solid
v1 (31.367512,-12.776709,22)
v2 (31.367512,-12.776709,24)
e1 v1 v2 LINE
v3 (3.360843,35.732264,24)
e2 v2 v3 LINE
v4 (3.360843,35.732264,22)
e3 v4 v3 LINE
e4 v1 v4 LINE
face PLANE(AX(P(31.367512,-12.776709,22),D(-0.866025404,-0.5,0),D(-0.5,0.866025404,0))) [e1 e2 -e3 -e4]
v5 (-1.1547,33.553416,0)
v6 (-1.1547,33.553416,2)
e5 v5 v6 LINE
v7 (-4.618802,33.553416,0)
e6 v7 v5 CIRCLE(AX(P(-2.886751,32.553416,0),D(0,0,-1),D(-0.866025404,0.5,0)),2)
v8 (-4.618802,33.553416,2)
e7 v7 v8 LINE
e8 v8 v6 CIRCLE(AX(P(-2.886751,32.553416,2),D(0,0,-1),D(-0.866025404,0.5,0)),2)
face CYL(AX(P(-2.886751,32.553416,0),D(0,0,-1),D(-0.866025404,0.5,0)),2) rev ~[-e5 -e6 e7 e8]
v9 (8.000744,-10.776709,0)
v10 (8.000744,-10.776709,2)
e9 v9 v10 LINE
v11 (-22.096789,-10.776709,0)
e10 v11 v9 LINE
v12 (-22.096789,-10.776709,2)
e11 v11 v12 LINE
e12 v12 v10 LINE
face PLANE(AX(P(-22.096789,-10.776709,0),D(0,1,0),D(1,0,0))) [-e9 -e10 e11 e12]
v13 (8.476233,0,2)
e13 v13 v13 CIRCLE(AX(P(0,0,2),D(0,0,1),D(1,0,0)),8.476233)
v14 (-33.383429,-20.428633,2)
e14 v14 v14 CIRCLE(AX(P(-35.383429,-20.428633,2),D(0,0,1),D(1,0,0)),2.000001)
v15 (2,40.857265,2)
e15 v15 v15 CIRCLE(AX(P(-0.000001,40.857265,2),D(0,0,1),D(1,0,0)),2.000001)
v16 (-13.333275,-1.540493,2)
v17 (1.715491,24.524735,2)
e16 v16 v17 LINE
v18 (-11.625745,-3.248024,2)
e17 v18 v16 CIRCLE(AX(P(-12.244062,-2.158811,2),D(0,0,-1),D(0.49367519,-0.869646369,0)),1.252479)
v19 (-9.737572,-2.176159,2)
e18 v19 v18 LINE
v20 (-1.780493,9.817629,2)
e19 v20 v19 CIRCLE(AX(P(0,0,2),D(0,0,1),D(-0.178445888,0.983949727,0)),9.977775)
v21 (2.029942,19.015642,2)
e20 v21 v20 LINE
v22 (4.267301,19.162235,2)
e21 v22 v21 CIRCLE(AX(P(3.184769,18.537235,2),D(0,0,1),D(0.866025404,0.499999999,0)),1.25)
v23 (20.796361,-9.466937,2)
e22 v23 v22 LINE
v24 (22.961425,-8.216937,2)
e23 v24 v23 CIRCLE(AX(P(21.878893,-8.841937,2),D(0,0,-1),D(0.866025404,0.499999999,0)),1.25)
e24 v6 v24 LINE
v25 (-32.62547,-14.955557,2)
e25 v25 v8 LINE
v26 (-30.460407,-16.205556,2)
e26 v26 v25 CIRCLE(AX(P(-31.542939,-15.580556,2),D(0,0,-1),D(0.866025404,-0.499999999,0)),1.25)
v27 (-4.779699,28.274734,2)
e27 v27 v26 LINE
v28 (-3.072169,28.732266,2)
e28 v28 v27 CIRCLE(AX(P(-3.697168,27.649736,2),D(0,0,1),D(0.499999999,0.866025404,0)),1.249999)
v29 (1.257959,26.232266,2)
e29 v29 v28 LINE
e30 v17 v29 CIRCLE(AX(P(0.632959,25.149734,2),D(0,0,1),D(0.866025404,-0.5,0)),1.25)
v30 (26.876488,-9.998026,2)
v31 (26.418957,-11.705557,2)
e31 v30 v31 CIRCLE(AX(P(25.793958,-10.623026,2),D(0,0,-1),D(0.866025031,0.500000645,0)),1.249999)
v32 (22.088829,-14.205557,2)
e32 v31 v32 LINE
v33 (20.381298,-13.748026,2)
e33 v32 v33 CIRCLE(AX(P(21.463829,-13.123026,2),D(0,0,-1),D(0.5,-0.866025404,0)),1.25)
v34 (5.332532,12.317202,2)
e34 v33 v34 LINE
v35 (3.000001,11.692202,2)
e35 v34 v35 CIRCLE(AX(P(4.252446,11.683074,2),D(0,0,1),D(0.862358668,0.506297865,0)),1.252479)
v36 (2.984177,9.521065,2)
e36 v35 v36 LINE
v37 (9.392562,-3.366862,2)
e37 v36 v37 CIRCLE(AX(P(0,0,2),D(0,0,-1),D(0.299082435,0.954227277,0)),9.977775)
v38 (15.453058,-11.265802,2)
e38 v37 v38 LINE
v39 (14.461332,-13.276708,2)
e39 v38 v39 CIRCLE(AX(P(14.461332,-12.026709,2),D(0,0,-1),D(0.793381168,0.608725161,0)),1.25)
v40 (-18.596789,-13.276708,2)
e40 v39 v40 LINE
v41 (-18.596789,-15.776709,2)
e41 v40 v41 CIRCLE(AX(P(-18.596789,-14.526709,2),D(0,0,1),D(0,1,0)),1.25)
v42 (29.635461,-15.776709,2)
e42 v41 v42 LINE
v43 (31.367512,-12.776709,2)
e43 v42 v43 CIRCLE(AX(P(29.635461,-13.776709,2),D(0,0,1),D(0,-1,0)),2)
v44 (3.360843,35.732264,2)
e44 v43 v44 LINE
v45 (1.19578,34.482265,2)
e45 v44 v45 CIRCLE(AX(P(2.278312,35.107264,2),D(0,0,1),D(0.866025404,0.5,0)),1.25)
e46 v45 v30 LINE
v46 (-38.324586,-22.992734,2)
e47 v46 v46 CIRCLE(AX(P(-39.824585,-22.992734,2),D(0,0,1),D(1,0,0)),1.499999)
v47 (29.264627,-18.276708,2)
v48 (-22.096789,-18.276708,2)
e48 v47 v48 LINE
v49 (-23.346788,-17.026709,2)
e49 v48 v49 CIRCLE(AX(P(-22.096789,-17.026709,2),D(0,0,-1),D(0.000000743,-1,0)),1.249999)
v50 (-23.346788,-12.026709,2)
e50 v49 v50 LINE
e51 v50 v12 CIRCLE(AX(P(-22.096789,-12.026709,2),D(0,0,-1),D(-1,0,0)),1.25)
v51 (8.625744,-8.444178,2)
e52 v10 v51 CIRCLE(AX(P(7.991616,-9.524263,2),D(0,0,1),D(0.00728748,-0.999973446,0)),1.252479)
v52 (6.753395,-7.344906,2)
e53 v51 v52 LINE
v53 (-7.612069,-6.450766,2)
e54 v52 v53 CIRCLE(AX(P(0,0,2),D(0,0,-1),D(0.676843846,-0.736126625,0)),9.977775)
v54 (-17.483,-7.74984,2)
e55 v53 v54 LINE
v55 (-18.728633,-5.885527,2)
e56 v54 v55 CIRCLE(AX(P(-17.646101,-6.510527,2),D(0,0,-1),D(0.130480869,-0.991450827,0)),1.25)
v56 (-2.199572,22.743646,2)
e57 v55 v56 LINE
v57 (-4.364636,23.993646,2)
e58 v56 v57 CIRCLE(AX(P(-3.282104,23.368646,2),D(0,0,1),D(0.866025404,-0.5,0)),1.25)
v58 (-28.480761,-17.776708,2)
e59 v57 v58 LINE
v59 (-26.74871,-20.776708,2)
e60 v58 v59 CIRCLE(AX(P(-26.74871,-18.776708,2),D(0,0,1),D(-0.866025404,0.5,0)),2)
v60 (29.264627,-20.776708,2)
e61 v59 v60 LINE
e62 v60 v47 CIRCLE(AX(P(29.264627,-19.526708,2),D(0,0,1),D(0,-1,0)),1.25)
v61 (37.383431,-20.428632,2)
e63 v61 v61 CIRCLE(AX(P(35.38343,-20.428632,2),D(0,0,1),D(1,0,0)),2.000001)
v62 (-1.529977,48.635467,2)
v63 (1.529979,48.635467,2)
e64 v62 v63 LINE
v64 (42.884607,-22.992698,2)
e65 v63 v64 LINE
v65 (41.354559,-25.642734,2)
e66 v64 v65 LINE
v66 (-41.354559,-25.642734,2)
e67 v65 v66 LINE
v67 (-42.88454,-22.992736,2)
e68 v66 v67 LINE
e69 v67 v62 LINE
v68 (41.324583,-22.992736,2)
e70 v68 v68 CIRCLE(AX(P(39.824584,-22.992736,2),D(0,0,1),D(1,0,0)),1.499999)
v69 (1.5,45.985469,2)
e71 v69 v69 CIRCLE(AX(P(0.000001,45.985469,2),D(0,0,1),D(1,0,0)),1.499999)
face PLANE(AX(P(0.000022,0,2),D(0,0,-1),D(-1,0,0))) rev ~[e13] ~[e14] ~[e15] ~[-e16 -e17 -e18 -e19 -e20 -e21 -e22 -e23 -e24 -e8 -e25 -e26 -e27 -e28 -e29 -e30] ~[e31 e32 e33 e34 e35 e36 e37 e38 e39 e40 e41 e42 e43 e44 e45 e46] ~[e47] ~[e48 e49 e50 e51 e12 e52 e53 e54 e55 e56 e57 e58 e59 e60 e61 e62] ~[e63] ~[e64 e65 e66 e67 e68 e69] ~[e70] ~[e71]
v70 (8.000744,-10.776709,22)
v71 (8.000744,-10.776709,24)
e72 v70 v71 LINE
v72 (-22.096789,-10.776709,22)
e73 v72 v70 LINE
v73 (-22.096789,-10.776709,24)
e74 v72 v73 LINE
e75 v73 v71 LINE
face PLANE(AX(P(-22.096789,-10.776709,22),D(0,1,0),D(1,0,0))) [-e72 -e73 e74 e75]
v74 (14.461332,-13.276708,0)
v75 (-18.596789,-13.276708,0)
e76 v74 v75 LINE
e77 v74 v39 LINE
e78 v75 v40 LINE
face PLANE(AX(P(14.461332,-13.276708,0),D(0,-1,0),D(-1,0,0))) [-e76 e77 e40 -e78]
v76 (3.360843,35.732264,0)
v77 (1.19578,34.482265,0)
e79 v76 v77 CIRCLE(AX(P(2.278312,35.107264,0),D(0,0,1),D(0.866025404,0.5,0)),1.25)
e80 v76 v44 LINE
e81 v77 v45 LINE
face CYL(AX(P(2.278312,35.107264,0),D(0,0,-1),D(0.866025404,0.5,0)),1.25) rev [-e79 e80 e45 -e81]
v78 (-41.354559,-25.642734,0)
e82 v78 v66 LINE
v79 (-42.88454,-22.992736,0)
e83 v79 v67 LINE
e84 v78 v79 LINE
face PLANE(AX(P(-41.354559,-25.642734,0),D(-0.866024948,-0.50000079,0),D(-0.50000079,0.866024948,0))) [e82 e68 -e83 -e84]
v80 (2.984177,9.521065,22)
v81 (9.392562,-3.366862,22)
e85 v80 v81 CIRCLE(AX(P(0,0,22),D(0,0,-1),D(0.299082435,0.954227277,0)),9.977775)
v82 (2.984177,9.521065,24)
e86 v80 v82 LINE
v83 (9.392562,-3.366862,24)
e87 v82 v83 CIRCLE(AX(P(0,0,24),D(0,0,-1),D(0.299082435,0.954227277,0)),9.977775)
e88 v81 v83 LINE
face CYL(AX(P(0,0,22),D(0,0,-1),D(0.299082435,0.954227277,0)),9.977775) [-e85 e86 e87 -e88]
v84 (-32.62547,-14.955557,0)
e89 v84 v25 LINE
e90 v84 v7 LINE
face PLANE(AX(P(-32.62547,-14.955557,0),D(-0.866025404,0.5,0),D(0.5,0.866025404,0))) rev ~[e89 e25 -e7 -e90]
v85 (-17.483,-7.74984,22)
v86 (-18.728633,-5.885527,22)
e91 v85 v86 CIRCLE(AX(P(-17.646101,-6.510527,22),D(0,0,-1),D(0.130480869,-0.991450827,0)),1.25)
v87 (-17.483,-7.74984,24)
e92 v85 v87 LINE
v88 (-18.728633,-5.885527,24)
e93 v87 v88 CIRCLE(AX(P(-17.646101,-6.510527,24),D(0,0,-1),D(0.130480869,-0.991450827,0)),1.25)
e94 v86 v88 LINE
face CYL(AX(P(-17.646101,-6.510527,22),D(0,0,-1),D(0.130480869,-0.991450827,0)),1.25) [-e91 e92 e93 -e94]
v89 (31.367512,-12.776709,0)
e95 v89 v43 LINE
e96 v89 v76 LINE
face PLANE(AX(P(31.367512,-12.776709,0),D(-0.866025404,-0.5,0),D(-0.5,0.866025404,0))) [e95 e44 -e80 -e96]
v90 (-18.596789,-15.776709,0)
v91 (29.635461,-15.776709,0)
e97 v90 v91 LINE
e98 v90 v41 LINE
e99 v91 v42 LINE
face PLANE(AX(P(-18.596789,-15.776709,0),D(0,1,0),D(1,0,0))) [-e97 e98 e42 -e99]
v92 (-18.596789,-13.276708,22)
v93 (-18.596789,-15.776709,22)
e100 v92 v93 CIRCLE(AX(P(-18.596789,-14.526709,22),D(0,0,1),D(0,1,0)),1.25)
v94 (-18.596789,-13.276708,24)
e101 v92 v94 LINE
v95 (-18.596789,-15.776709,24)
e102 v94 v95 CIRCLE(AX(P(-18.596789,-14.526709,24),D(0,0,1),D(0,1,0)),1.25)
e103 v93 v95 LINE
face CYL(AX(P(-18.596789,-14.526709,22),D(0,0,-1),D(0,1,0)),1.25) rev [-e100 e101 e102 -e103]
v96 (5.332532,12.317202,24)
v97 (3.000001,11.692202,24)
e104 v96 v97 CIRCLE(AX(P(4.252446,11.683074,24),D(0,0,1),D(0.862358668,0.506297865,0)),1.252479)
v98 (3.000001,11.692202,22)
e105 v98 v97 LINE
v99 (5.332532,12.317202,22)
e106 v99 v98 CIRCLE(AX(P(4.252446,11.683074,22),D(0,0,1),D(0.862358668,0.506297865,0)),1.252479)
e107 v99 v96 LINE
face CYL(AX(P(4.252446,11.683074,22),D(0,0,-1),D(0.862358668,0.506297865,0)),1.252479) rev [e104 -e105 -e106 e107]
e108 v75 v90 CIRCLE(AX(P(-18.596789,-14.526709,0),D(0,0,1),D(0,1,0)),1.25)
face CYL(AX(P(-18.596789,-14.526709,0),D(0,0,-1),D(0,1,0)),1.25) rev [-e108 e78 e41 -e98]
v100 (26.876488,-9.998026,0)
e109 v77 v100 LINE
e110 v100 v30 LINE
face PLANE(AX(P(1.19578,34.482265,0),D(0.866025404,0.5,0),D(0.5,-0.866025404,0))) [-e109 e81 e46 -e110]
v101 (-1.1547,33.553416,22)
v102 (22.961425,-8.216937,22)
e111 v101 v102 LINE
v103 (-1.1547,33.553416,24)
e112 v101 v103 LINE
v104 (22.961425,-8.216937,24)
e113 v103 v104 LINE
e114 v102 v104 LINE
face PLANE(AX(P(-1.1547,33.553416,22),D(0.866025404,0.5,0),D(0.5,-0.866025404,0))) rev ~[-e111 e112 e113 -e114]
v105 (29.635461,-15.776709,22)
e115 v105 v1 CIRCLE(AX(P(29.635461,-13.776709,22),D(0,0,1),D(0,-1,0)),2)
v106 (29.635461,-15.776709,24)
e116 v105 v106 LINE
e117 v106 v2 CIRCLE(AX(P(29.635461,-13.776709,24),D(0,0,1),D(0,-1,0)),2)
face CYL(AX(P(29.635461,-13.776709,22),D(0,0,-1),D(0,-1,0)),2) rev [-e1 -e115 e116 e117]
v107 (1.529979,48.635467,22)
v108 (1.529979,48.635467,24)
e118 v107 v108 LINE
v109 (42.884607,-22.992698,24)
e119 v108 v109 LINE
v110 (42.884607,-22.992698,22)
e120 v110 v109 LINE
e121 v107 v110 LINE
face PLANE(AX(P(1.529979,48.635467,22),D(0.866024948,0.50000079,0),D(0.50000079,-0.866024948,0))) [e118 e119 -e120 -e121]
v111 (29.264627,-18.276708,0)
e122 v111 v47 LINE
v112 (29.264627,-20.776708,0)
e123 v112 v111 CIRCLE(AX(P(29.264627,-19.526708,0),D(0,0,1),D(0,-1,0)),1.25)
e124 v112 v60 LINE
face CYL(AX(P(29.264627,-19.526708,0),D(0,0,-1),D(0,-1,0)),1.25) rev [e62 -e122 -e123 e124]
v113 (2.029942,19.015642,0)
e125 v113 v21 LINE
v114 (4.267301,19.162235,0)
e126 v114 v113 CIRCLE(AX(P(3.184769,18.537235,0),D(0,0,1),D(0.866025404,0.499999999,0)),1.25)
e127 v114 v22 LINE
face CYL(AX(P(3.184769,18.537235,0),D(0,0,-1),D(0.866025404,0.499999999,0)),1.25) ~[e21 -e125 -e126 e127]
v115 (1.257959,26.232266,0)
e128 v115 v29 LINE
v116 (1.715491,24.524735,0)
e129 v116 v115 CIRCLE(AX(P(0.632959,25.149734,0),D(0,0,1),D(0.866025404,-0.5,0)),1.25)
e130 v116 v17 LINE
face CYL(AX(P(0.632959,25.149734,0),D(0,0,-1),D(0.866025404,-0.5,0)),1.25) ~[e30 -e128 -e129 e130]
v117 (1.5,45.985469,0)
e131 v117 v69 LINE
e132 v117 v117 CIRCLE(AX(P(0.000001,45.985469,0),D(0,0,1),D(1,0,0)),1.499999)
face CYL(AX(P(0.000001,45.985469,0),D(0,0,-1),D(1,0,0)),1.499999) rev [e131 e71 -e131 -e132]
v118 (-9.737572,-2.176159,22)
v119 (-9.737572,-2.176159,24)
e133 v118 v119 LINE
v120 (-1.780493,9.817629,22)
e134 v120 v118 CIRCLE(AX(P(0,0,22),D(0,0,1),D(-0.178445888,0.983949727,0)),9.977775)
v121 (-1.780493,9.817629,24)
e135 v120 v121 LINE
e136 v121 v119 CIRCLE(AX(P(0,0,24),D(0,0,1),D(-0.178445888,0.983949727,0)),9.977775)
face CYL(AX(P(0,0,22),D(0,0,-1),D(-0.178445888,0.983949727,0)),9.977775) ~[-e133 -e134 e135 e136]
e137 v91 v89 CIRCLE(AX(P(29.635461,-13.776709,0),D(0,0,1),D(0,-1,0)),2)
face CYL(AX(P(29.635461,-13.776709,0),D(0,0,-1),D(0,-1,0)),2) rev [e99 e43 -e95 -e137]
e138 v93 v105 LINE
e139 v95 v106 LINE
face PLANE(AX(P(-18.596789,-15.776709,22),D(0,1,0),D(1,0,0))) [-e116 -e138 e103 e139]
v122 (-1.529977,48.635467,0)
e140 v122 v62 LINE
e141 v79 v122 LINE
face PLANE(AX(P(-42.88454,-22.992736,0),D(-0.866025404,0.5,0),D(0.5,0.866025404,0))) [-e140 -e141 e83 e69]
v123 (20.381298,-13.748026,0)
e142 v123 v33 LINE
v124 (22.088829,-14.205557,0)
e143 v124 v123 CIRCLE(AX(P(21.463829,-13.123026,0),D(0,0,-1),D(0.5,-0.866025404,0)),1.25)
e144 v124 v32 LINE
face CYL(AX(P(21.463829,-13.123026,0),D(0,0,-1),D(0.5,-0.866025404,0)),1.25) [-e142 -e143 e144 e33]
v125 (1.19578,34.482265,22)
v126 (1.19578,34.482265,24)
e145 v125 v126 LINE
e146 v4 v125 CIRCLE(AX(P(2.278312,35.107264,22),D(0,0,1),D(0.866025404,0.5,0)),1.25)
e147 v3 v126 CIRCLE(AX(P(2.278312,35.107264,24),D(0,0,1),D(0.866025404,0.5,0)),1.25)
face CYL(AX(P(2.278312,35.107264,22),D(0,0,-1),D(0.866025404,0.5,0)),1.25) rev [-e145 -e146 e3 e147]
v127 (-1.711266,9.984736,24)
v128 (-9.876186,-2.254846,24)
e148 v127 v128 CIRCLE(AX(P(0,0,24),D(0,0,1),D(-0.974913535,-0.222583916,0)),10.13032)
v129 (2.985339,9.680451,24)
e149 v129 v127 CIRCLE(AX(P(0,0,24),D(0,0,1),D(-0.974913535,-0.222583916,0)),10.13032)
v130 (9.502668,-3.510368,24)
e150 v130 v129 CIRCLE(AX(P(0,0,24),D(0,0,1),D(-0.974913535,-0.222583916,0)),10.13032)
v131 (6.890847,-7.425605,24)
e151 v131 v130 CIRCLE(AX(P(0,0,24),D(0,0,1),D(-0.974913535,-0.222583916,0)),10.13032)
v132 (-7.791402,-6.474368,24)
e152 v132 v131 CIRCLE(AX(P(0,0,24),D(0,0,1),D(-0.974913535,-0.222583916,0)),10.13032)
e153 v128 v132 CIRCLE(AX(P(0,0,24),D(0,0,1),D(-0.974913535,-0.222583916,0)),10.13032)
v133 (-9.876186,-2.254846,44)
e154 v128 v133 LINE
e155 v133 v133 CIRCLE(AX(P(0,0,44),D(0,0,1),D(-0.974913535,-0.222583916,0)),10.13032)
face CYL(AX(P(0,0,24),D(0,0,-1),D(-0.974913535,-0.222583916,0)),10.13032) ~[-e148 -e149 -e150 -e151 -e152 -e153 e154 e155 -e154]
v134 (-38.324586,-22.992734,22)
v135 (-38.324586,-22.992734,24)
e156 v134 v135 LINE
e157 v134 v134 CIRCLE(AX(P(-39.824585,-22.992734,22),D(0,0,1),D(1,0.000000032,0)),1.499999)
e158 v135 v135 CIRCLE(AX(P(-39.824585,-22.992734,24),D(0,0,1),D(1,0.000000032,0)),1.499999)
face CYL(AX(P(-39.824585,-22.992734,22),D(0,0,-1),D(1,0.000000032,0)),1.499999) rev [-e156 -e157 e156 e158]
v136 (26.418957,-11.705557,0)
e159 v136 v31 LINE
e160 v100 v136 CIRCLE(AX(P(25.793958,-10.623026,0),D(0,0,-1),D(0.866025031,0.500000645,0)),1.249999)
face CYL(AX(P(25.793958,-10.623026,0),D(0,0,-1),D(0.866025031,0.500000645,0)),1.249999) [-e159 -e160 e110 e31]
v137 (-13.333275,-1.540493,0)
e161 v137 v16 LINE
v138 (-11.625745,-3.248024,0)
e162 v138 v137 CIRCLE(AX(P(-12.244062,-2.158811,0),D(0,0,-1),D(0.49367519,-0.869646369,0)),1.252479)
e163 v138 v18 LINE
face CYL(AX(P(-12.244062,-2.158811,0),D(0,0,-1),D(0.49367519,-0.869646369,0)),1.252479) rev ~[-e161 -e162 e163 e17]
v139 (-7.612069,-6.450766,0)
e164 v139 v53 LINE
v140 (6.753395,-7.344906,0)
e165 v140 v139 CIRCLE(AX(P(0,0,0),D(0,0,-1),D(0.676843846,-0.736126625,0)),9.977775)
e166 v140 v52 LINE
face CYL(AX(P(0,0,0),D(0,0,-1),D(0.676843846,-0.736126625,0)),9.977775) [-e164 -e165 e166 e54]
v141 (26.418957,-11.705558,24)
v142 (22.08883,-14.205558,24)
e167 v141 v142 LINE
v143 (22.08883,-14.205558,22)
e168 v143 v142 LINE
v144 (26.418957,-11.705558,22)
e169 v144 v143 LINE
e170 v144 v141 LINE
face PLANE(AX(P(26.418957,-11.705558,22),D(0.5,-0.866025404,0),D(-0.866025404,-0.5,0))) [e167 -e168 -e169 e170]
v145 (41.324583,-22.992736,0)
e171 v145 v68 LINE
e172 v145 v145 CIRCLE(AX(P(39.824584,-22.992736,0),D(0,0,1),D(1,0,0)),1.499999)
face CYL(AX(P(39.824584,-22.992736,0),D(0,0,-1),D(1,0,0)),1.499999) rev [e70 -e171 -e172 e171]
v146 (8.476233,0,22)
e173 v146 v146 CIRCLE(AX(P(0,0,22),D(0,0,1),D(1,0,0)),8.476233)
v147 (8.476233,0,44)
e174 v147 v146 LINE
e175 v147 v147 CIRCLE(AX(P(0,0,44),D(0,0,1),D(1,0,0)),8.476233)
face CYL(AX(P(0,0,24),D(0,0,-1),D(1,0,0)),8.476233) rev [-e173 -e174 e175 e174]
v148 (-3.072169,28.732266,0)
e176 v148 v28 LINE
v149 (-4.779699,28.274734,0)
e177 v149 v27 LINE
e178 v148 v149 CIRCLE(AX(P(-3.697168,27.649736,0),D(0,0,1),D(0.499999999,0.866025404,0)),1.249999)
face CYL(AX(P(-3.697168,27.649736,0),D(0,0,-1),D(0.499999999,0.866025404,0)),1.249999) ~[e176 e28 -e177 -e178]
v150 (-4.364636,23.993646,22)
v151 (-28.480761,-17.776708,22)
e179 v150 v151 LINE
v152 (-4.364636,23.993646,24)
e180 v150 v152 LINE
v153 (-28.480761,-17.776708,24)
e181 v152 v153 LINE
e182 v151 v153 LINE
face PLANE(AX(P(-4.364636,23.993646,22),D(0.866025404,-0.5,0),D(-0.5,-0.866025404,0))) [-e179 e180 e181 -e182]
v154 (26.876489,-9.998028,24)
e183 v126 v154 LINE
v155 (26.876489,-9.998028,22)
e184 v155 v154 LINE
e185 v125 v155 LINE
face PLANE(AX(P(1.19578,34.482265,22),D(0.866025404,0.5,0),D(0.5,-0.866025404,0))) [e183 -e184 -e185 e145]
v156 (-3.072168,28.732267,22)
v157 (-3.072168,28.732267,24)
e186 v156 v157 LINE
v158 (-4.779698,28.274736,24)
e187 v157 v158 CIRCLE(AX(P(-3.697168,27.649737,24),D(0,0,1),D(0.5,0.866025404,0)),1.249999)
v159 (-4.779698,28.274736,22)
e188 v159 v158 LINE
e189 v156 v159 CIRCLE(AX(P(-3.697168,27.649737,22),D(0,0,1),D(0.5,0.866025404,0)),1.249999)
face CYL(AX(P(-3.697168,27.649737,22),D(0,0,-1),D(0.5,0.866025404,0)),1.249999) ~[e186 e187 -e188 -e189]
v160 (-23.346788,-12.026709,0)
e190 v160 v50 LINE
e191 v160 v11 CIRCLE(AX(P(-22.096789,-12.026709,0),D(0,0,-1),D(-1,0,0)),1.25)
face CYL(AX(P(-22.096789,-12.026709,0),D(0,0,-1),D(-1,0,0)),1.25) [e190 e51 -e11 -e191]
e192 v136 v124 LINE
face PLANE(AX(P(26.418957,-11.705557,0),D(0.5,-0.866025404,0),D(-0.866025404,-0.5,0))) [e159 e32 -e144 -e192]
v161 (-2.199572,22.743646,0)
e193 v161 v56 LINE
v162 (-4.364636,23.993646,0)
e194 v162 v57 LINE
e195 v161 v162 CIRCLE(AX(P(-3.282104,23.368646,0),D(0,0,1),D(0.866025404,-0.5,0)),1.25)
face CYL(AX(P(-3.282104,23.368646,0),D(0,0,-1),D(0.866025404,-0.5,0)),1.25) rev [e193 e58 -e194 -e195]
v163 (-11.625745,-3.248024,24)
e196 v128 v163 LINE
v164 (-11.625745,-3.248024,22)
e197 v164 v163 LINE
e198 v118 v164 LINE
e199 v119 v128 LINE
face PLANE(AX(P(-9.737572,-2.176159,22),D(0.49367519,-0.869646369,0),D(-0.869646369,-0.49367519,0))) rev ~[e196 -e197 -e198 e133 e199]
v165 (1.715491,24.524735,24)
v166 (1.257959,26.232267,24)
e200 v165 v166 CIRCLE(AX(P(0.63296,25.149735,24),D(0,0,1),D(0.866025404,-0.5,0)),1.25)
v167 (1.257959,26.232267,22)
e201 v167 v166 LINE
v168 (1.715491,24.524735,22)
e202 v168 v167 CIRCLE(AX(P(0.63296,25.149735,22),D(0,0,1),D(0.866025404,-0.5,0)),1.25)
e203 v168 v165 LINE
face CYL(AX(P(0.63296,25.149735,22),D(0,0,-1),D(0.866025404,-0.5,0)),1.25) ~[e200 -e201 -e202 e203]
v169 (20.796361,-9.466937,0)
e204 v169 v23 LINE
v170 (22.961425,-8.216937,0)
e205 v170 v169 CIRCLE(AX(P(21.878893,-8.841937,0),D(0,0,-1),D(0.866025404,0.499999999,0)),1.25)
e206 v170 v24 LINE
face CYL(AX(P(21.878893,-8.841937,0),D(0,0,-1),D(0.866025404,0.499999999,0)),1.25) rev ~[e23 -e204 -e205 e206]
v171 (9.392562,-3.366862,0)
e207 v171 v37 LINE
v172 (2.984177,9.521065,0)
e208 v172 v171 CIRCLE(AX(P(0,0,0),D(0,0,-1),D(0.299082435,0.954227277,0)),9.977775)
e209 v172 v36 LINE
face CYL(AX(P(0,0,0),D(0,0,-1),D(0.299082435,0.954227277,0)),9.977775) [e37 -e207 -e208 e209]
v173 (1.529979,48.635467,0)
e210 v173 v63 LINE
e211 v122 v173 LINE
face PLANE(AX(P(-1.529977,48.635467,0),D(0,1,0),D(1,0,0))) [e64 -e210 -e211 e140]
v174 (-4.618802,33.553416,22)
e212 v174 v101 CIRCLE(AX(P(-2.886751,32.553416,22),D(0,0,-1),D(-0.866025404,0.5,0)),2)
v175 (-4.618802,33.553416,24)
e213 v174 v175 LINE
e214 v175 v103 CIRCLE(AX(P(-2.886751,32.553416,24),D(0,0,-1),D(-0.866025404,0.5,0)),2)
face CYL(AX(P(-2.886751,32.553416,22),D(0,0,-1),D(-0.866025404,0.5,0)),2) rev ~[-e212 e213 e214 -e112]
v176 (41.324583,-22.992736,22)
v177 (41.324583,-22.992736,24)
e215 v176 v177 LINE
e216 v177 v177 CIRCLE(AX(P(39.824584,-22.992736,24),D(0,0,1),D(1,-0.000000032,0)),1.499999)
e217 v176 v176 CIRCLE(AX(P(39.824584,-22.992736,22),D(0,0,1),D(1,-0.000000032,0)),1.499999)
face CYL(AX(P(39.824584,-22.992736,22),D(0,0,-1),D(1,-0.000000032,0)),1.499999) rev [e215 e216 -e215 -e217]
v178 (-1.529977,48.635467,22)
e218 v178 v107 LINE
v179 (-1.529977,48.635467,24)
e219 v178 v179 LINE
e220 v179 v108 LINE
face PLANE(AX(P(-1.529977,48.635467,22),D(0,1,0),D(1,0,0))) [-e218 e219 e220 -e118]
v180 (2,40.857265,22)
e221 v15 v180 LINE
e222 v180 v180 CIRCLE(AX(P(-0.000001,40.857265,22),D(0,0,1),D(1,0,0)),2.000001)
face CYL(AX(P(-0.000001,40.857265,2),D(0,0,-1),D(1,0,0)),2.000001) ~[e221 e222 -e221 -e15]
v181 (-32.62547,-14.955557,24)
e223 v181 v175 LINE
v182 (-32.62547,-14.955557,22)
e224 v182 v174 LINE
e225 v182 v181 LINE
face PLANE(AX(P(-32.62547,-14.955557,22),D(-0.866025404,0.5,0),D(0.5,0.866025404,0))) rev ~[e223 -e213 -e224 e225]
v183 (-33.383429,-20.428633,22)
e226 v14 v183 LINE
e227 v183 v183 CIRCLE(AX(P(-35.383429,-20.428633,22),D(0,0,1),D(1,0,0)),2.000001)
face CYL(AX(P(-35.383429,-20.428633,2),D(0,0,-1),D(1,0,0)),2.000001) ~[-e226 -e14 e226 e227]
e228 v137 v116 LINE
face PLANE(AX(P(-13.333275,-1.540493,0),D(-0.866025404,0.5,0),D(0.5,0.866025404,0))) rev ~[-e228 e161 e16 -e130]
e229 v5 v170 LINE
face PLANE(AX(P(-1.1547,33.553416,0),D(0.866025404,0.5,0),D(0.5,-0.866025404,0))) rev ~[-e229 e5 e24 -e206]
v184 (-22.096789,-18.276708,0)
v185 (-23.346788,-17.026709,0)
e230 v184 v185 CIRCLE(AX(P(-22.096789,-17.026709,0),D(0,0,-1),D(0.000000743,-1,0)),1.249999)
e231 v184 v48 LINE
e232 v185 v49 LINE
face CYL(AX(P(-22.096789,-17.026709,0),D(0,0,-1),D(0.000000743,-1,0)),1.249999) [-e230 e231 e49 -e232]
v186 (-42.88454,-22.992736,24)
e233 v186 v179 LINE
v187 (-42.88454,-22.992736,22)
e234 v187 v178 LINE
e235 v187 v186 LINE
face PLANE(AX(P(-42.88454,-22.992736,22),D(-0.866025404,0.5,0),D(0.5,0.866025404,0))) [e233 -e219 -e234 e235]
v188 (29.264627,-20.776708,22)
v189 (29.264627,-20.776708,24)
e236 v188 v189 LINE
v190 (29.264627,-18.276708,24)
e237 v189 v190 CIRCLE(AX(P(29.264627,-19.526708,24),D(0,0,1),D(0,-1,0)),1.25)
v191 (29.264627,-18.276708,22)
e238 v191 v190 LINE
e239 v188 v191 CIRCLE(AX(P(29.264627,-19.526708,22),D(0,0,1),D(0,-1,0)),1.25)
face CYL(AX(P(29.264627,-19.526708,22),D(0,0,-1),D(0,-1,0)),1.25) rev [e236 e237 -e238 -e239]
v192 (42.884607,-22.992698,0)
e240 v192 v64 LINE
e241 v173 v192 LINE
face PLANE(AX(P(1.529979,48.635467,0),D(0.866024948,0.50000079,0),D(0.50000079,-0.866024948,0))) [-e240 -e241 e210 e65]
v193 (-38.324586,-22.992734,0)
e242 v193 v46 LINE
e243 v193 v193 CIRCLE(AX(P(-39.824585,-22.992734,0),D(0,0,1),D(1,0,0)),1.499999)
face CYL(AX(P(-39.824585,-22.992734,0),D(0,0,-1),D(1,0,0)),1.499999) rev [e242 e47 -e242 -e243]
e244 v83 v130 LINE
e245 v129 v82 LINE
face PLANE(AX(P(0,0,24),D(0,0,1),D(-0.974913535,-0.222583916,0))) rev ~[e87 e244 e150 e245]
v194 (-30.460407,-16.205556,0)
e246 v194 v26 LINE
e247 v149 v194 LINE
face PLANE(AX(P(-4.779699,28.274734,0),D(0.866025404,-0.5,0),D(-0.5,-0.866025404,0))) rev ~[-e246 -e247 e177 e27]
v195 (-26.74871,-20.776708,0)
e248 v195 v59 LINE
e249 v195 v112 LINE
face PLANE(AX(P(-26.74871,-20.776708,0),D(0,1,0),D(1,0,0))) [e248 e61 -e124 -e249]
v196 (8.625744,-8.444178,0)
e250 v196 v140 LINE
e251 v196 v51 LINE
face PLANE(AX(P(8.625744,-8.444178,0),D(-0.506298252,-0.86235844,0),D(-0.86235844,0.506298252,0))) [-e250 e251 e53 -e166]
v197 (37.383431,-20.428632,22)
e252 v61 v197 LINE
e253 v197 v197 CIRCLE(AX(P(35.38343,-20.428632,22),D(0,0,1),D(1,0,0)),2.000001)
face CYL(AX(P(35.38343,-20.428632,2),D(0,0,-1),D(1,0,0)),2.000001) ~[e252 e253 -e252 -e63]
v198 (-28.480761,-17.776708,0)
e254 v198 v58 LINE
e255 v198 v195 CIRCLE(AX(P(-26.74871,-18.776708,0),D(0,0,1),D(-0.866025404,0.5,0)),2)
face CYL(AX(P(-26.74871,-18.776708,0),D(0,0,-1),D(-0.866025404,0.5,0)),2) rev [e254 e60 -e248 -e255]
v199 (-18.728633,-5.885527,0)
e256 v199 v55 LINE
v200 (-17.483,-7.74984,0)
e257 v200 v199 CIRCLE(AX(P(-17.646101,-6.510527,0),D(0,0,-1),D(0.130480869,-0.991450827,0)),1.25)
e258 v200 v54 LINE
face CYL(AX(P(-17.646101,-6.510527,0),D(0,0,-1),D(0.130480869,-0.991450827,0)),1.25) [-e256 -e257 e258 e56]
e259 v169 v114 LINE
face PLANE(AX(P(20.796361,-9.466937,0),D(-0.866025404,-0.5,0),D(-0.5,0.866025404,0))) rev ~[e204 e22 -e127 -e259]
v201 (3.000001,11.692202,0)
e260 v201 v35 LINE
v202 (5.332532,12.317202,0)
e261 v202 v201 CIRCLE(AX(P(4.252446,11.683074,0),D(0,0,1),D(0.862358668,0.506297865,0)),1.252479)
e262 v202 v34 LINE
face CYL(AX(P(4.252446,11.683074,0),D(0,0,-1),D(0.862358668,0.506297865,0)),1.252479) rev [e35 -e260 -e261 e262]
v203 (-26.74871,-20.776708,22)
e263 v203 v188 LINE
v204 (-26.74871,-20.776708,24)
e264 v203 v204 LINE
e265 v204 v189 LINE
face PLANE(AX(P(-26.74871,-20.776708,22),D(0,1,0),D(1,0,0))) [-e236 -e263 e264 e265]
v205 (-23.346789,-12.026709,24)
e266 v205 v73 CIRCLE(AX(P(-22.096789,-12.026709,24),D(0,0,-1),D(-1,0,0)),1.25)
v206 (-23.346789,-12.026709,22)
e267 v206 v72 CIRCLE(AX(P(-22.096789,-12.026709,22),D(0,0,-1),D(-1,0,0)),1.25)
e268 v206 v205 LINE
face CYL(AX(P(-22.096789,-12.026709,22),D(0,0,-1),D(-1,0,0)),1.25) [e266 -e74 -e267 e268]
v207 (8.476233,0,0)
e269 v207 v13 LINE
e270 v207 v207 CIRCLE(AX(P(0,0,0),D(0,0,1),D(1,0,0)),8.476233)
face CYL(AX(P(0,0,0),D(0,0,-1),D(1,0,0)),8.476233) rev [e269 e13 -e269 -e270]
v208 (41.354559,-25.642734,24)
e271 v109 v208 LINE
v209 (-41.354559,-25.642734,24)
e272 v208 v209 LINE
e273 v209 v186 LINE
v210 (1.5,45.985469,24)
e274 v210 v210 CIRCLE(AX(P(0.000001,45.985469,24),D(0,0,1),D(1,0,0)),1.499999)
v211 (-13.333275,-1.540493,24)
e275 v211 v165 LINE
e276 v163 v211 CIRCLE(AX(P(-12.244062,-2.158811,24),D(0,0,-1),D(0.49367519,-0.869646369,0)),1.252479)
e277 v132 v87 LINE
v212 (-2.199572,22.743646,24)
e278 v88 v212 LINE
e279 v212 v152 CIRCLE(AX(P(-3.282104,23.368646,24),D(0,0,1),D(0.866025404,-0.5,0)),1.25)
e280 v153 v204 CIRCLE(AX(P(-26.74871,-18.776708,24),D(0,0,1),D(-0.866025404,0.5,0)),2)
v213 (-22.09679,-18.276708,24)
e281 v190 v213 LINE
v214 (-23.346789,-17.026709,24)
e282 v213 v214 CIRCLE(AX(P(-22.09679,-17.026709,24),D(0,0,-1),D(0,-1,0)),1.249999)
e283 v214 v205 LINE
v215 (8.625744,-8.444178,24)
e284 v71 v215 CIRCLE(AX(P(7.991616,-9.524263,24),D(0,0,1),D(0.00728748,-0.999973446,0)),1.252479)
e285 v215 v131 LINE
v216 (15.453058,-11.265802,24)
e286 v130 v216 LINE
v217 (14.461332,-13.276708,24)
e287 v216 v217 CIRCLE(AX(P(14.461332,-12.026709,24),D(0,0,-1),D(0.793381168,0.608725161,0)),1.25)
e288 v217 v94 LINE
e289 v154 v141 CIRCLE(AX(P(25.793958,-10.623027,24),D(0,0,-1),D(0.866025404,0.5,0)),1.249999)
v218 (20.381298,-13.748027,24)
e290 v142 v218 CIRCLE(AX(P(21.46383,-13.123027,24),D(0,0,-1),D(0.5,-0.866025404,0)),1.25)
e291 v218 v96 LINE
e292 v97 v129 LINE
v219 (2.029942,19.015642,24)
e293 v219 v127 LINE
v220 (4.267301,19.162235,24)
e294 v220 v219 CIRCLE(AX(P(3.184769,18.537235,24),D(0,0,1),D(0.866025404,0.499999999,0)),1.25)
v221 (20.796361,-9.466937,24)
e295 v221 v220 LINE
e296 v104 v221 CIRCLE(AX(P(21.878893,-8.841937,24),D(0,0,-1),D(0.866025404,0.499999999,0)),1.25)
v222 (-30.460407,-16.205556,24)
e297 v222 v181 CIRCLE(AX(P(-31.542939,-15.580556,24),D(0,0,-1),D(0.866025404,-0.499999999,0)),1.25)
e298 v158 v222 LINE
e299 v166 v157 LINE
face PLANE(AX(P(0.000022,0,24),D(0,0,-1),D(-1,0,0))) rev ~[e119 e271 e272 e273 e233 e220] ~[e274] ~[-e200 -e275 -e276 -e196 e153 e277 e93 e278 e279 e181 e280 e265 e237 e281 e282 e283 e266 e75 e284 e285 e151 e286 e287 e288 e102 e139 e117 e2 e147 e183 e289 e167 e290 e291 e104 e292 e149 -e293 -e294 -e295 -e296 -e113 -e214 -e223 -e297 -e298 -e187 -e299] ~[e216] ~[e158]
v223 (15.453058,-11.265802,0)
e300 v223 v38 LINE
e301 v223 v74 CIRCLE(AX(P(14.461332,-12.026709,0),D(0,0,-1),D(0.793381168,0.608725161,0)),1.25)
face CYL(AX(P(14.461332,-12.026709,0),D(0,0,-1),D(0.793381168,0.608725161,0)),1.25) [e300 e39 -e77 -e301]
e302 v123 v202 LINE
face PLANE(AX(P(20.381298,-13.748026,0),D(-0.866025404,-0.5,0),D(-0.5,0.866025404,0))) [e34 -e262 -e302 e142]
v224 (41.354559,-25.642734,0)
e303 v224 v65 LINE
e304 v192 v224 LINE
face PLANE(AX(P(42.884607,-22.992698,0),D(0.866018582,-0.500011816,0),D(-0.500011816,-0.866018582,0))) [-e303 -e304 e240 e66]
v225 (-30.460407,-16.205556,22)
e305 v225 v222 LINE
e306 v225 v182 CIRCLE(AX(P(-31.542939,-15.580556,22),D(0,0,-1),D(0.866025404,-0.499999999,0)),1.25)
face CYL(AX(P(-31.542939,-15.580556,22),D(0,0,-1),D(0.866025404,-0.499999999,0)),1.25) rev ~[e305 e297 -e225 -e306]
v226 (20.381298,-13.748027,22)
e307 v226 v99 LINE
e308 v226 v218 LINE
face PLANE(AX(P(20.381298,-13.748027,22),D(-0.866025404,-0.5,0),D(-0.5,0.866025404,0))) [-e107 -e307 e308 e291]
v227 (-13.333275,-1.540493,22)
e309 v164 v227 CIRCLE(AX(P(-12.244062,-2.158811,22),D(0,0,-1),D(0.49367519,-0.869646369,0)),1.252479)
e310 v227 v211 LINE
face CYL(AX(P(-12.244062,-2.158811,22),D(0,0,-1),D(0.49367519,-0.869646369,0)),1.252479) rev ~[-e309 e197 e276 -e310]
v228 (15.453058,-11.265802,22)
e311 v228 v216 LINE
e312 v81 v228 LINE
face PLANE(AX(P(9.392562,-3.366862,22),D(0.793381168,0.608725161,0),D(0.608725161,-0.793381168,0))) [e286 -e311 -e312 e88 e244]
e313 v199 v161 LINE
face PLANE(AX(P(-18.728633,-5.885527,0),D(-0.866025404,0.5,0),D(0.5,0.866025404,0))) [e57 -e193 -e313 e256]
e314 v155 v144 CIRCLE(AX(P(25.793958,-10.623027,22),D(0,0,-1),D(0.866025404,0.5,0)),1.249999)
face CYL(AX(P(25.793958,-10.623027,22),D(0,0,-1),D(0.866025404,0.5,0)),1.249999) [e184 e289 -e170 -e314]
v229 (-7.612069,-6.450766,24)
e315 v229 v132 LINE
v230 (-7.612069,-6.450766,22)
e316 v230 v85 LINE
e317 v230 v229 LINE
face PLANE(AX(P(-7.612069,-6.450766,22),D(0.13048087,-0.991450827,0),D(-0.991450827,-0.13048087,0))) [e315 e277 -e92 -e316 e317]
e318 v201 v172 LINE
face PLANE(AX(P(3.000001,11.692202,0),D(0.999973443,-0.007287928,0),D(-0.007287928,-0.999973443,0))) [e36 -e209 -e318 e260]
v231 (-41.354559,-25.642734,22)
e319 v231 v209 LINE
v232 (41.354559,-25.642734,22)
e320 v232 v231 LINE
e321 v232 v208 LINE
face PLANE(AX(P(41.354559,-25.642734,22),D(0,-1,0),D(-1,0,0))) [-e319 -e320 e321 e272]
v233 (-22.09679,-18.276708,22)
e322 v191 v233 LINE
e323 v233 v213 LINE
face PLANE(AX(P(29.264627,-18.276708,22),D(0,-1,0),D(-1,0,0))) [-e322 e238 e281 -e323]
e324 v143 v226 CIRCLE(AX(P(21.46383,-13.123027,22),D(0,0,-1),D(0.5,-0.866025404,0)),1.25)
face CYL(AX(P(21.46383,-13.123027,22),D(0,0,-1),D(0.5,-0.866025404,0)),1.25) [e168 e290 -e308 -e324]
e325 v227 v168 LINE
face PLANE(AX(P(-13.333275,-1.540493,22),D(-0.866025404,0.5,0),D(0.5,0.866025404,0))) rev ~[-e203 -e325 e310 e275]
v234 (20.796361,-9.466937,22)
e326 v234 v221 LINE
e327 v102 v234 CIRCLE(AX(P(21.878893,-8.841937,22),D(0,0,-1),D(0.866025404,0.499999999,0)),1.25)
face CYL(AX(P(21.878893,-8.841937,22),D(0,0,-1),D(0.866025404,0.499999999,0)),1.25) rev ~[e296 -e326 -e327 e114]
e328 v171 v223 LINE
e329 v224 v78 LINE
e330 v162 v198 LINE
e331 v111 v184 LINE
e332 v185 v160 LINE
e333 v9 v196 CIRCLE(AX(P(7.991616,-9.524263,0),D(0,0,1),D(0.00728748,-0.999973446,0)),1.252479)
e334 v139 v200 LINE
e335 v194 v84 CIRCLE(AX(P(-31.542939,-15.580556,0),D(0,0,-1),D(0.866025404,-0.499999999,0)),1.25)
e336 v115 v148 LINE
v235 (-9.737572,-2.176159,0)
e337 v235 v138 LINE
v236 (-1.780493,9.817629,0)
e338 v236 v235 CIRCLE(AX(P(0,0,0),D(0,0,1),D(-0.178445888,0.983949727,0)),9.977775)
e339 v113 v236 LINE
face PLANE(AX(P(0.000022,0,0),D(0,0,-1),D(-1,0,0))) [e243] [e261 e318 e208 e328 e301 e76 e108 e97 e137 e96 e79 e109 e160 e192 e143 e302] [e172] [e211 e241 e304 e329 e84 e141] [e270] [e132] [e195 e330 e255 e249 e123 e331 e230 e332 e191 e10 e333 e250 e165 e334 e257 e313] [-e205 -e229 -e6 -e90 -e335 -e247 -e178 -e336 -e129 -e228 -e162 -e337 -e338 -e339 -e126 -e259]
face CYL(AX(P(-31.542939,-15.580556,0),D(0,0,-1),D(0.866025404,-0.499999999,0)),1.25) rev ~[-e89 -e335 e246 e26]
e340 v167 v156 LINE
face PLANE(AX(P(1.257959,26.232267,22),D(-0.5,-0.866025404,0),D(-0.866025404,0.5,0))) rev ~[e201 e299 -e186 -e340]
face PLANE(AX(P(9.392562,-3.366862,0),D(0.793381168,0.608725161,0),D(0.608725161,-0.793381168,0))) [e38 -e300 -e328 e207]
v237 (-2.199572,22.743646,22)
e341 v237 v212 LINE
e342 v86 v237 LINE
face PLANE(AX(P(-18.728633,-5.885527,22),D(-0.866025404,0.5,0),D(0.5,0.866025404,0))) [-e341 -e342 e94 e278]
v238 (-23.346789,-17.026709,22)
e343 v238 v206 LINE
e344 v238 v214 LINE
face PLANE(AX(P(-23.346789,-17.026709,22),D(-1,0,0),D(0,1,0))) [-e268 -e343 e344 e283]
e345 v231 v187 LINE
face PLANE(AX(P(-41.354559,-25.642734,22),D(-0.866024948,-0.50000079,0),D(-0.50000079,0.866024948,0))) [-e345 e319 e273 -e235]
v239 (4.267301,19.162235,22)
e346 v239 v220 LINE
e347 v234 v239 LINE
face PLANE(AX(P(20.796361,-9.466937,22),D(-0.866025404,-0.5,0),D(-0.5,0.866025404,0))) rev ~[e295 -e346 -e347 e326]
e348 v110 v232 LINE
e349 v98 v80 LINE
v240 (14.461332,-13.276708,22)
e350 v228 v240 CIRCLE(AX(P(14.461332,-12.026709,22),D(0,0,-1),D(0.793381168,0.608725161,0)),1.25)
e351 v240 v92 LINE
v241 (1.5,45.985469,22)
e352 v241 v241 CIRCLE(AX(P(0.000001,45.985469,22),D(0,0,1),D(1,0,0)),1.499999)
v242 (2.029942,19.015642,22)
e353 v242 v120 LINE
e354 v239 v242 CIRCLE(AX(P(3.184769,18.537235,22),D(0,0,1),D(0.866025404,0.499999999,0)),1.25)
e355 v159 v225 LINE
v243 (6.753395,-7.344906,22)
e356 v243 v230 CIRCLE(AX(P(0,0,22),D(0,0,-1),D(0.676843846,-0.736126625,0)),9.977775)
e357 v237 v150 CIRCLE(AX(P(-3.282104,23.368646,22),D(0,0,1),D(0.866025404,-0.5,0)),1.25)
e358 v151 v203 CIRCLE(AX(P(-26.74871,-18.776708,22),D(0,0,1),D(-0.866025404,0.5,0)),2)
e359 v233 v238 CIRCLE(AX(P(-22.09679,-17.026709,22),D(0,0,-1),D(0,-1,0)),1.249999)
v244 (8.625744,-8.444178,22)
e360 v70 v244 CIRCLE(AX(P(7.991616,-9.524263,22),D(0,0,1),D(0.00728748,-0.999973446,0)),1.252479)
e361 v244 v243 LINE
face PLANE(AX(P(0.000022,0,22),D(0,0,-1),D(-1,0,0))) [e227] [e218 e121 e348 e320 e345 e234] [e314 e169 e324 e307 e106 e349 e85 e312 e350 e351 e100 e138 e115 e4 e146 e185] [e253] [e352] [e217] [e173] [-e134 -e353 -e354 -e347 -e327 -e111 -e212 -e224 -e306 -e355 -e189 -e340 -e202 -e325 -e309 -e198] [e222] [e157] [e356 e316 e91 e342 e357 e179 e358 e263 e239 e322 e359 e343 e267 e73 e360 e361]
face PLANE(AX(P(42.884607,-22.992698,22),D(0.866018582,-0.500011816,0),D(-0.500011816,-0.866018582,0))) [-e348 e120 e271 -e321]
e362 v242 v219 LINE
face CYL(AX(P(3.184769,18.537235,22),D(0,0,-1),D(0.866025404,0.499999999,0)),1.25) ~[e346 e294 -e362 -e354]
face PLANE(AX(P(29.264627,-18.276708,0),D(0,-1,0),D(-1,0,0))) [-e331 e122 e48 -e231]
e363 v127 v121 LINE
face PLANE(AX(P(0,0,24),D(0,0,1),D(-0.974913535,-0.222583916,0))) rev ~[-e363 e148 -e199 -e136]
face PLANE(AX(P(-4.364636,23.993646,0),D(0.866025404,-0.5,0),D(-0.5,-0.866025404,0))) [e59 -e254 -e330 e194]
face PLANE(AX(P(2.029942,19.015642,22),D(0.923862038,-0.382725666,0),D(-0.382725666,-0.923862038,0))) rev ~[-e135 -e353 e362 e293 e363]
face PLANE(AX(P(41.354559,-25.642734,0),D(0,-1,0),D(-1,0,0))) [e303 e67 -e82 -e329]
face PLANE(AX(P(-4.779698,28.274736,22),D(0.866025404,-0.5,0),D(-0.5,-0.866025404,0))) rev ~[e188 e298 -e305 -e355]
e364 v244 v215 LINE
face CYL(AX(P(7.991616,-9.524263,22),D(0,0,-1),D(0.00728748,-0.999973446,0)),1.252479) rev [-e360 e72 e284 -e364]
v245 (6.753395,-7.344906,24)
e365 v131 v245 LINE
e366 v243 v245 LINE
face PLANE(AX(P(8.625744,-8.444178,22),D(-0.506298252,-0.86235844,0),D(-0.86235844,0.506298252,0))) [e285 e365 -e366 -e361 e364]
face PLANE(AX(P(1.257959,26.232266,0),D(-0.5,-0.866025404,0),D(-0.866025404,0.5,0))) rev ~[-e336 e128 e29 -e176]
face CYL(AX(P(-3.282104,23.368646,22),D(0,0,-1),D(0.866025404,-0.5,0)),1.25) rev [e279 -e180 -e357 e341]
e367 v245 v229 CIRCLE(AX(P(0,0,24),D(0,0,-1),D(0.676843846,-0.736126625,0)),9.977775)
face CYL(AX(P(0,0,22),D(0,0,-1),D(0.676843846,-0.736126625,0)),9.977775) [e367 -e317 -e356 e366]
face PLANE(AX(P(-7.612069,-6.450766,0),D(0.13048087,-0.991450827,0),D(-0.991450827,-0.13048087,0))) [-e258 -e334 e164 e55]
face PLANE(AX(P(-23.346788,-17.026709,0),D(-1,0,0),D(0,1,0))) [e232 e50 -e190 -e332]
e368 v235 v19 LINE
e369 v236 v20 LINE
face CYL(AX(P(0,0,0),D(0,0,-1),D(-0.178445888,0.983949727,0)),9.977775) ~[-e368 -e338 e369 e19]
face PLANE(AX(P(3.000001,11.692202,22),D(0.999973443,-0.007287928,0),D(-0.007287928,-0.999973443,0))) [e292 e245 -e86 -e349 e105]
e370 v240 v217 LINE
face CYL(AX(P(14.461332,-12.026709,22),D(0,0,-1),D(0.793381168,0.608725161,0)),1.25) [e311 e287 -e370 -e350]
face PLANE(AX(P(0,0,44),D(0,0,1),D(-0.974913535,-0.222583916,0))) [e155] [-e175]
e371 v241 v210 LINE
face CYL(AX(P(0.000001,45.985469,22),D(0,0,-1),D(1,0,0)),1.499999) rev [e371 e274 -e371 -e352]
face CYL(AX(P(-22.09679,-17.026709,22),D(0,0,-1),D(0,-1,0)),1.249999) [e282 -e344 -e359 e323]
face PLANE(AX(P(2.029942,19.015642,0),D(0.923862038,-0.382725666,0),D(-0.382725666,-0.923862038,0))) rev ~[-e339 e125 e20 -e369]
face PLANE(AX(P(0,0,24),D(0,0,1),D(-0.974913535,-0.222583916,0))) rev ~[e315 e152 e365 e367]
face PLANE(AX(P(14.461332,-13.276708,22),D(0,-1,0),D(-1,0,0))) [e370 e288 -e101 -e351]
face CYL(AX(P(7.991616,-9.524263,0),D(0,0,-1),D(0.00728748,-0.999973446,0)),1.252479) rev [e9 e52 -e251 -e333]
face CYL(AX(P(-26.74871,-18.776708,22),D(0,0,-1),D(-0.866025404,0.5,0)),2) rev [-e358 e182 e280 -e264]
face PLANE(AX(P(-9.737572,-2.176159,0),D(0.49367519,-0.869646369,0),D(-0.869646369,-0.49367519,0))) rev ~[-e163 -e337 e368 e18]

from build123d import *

# Parameters (mm, degrees)
SKETCH2_R           = 1.499999048
SKETCH2_R_2         = 8.476232568
BOSS_EXTRUDE1_DEPTH = 2
SKETCH3_R           = 2.000000571
BOSS_EXTRUDE4_DEPTH = 20
SKETCH5_R           = 1.499999048
SKETCH5_R_2         = 8.476232568
BOSS_EXTRUDE5_DEPTH = 2
SKETCH6_R           = 10.130319586
SKETCH6_R_2         = 8.476232568
BOSS_EXTRUDE6_DEPTH = 20


with BuildPart() as part:
    # Sketch2 → Boss-Extrude1 (new body)
    with BuildSketch(Plane.XY):
        Polygon((-1.529977411, 48.635467476), (1.529978834, 48.635467476), (42.884606582, -22.992698001), (41.354559362, -25.642734021), (-41.354559362, -25.642734021), (-42.884539813, -22.992735729), align=None)
        with Locations((-39.824585131, -22.992733702)):
            Circle(SKETCH2_R, mode=Mode.SUBTRACT)
        Circle(SKETCH2_R_2, mode=Mode.SUBTRACT)
        with Locations((1.077e-06, 45.98546927)):
            Circle(SKETCH2_R, mode=Mode.SUBTRACT)
        with Locations((39.824584054, -22.992735568)):
            Circle(SKETCH2_R, mode=Mode.SUBTRACT)
        with BuildLine():
            Line((8.625743911, -8.444177918), (6.753395324, -7.344905536))
            ThreePointArc((6.753395324, -7.344905536), (-0.619839897, -9.958503112), (-7.612069336, -6.450766323))
            Line((-7.612069336, -6.450766323), (-17.483000044, -7.749839951))
            ThreePointArc((-17.483000044, -7.749839951), (-18.685453818, -7.204965543), (-18.728632678, -5.885526729))
            Line((-18.728632678, -5.885526729), (-2.199572243, 22.743645745))
            ThreePointArc((-2.199572243, 22.743645745), (-2.657104073, 24.45117778), (-4.364636107, 23.99364595))
            Line((-4.364636107, 23.99364595), (-28.480761019, -17.776707679))
            ThreePointArc((-28.480761019, -17.776707679), (-28.480761019, -19.776707679), (-26.748710212, -20.776707679))
            Line((-26.748710212, -20.776707679), (29.264627025, -20.776707679))
            ThreePointArc((29.264627025, -20.776707679), (30.514626764, -19.52670794), (29.264627025, -18.276708201))
            Line((29.264627025, -18.276708201), (-22.096788511, -18.276708201))
            ThreePointArc((-22.096788511, -18.276708201), (-22.980671746, -17.910592355), (-23.34678825, -17.026709393))
            Line((-23.34678825, -17.026709393), (-23.34678825, -12.026708573))
            ThreePointArc((-23.34678825, -12.026708573), (-22.980671803, -11.142825281), (-22.096788511, -10.776708834))
            Line((-22.096788511, -10.776708834), (8.000743575, -10.776708834))
            ThreePointArc((8.000743575, -10.776708834), (9.201417559, -9.848429046), (8.625743911, -8.444177918))
        make_face(mode=Mode.SUBTRACT)
        with BuildLine():
            Line((-18.596788868, -15.776708722), (29.635460955, -15.776708722))
            ThreePointArc((29.635460955, -15.776708722), (31.367511763, -14.776708722), (31.367511763, -12.776708722))
            Line((31.367511763, -12.776708722), (3.360843145, 35.732264275))
            ThreePointArc((3.360843145, 35.732264275), (1.653311746, 36.189795934), (1.195780087, 34.482264536))
            Line((1.195780087, 34.482264536), (26.876487855, -9.998026092))
            ThreePointArc((26.876487855, -9.998026092), (27.00136385, -10.946549351), (26.418957002, -11.705557025))
            Line((26.418957002, -11.705557025), (22.088829273, -14.205557435))
            ThreePointArc((22.088829273, -14.205557435), (21.140305665, -14.330432937), (20.381297875, -13.748025775))
            Line((20.381297875, -13.748025775), (5.332531832, 12.317201602))
            ThreePointArc((5.332531832, 12.317201602), (3.928280962, 12.89287588), (3.000000636, 11.692202312))
            Line((3.000000636, 11.692202312), (2.984177121, 9.52106468))
            ThreePointArc((2.984177121, 9.52106468), (8.934236627, 4.442454459), (9.392562178, -3.366862259))
            Line((9.392562178, -3.366862259), (15.453058295, -11.265802197))
            ThreePointArc((15.453058295, -11.265802197), (15.582410103, -12.579594916), (14.461332001, -13.276708312))
            Line((14.461332001, -13.276708312), (-18.596788868, -13.276708312))
            ThreePointArc((-18.596788868, -13.276708312), (-19.846789073, -14.526708517), (-18.596788868, -15.776708722))
        make_face(mode=Mode.SUBTRACT)
        with BuildLine():
            Line((-32.625470169, -14.955556596), (-4.618801551, 33.553416401))
            ThreePointArc((-4.618801551, 33.553416401), (-2.886750744, 34.553416401), (-1.154699936, 33.553416401))
            Line((-1.154699936, 33.553416401), (22.961424976, -8.216937228))
            ThreePointArc((22.961424976, -8.216937228), (22.503893146, -9.924469262), (20.796361111, -9.466937433))
            Line((20.796361111, -9.466937433), (4.267300677, 19.162235041))
            ThreePointArc((4.267300677, 19.162235041), (3.103043715, 19.78456046), (2.029941749, 19.015642148))
            Line((2.029941749, 19.015642148), (-1.780492842, 9.817628582))
            ThreePointArc((-1.780492842, 9.817628582), (-8.31439673, 5.516048653), (-9.737572444, -2.176159144))
            Line((-9.737572444, -2.176159144), (-11.625744547, -3.248024394))
            ThreePointArc((-11.625744547, -3.248024394), (-13.12969852, -3.044446834), (-13.333275407, -1.540492769))
            Line((-13.333275407, -1.540492769), (1.715490636, 24.524734609))
            ThreePointArc((1.715490636, 24.524734609), (1.840366138, 25.473258218), (1.257958977, 26.232266008))
            Line((1.257958977, 26.232266008), (-3.072168752, 28.732266418))
            ThreePointArc((-3.072168752, 28.732266418), (-4.020692104, 28.857141706), (-4.779699344, 28.274734293))
            Line((-4.779699344, 28.274734293), (-30.460407112, -16.205556335))
            ThreePointArc((-30.460407112, -16.205556335), (-32.16793851, -16.663087995), (-32.625470169, -14.955556596))
        make_face(mode=Mode.SUBTRACT)
    extrude(amount=BOSS_EXTRUDE1_DEPTH)

    # Sketch3 → Boss-Extrude4 (add)
    with BuildSketch(Plane.XY.offset(2)):
        with Locations((-35.383429378, -20.428633317)):
            Circle(SKETCH3_R)
        with Locations((35.383430107, -20.428632056)):
            Circle(SKETCH3_R)
        with Locations((-7.28e-07, 40.857265373)):
            Circle(SKETCH3_R)
    extrude(amount=BOSS_EXTRUDE4_DEPTH)

    # Sketch5 → Boss-Extrude5 (add)
    with BuildSketch(Plane.XY.offset(22)):
        Polygon((-1.529977411, 48.635467476), (1.529978834, 48.635467476), (42.884606582, -22.992698001), (41.354559362, -25.642734021), (-41.354559362, -25.642734021), (-42.884539813, -22.992735729), align=None)
        with Locations(Location((-39.824585103, -22.992733751, 0), (0, 0, 1.842e-06))):
            Circle(SKETCH5_R, mode=Mode.SUBTRACT)
        Circle(SKETCH5_R_2, mode=Mode.SUBTRACT)
        with Locations((1.021e-06, 45.98546927)):
            Circle(SKETCH5_R, mode=Mode.SUBTRACT)
        with Locations(Location((39.824584082, -22.992735519, 0), (0, 0, 359.999998157))):
            Circle(SKETCH5_R, mode=Mode.SUBTRACT)
        with BuildLine():
            Line((8.625743911, -8.444177918), (6.753395324, -7.344905536))
            ThreePointArc((6.753395324, -7.344905536), (-0.619839897, -9.958503112), (-7.612069336, -6.450766323))
            Line((-7.612069336, -6.450766323), (-17.483000044, -7.749839951))
            ThreePointArc((-17.483000044, -7.749839951), (-18.685453818, -7.204965543), (-18.728632678, -5.885526729))
            Line((-18.728632678, -5.885526729), (-2.199572243, 22.743645745))
            ThreePointArc((-2.199572243, 22.743645745), (-2.657104073, 24.45117778), (-4.364636107, 23.99364595))
            Line((-4.364636107, 23.99364595), (-28.480761019, -17.776707679))
            ThreePointArc((-28.480761019, -17.776707679), (-28.480761019, -19.776707679), (-26.748710212, -20.776707679))
            Line((-26.748710212, -20.776707679), (29.264627025, -20.776707679))
            ThreePointArc((29.264627025, -20.776707679), (30.514626764, -19.52670794), (29.264627025, -18.276708201))
            Line((29.264627025, -18.276708201), (-22.096790373, -18.276708201))
            ThreePointArc((-22.096790373, -18.276708201), (-22.980673007, -17.910592026), (-23.346789181, -17.026709393))
            Line((-23.346789181, -17.026709393), (-23.346789181, -12.026708573))
            ThreePointArc((-23.346789181, -12.026708573), (-22.980672734, -11.142825281), (-22.096789442, -10.776708834))
            Line((-22.096789442, -10.776708834), (8.000743575, -10.776708834))
            ThreePointArc((8.000743575, -10.776708834), (9.201417559, -9.848429046), (8.625743911, -8.444177918))
        make_face(mode=Mode.SUBTRACT)
        with BuildLine():
            Line((-18.596788868, -15.776708722), (29.635460955, -15.776708722))
            ThreePointArc((29.635460955, -15.776708722), (31.367511763, -14.776708722), (31.367511763, -12.776708722))
            Line((31.367511763, -12.776708722), (3.360843145, 35.732264275))
            ThreePointArc((3.360843145, 35.732264275), (1.653311746, 36.189795934), (1.195780087, 34.482264536))
            Line((1.195780087, 34.482264536), (26.876488786, -9.998027705))
            ThreePointArc((26.876488786, -9.998027705), (27.001364195, -10.946550607), (26.418957468, -11.705557831))
            Line((26.418957468, -11.705557831), (22.088829739, -14.205558241))
            ThreePointArc((22.088829739, -14.205558241), (21.14030613, -14.330433743), (20.38129834, -13.748026582))
            Line((20.38129834, -13.748026582), (5.332531832, 12.317201602))
            ThreePointArc((5.332531832, 12.317201602), (3.928280962, 12.89287588), (3.000000636, 11.692202312))
            Line((3.000000636, 11.692202312), (2.984177121, 9.52106468))
            ThreePointArc((2.984177121, 9.52106468), (8.934236627, 4.442454459), (9.392562178, -3.366862259))
            Line((9.392562178, -3.366862259), (15.453058295, -11.265802197))
            ThreePointArc((15.453058295, -11.265802197), (15.582410103, -12.579594916), (14.461332001, -13.276708312))
            Line((14.461332001, -13.276708312), (-18.596788868, -13.276708312))
            ThreePointArc((-18.596788868, -13.276708312), (-19.846789073, -14.526708517), (-18.596788868, -15.776708722))
        make_face(mode=Mode.SUBTRACT)
        with BuildLine():
            Line((-32.625470169, -14.955556596), (-4.618801551, 33.553416401))
            ThreePointArc((-4.618801551, 33.553416401), (-2.886750744, 34.553416401), (-1.154699936, 33.553416401))
            Line((-1.154699936, 33.553416401), (22.961424976, -8.216937228))
            ThreePointArc((22.961424976, -8.216937228), (22.503893146, -9.924469262), (20.796361111, -9.466937433))
            Line((20.796361111, -9.466937433), (4.267300677, 19.162235041))
            ThreePointArc((4.267300677, 19.162235041), (3.103043715, 19.78456046), (2.029941749, 19.015642148))
            Line((2.029941749, 19.015642148), (-1.780492842, 9.817628582))
            ThreePointArc((-1.780492842, 9.817628582), (-8.31439673, 5.516048653), (-9.737572444, -2.176159144))
            Line((-9.737572444, -2.176159144), (-11.625744547, -3.248024394))
            ThreePointArc((-11.625744547, -3.248024394), (-13.12969852, -3.044446834), (-13.333275407, -1.540492769))
            Line((-13.333275407, -1.540492769), (1.715491102, 24.524735416))
            ThreePointArc((1.715491102, 24.524735416), (1.840366604, 25.473259024), (1.257959442, 26.232266814))
            Line((1.257959442, 26.232266814), (-3.072168286, 28.732267224))
            ThreePointArc((-3.072168286, 28.732267224), (-4.020691188, 28.857142633), (-4.779698413, 28.274735906))
            Line((-4.779698413, 28.274735906), (-30.460407112, -16.205556335))
            ThreePointArc((-30.460407112, -16.205556335), (-32.16793851, -16.663087995), (-32.625470169, -14.955556596))
        make_face(mode=Mode.SUBTRACT)
    extrude(amount=BOSS_EXTRUDE5_DEPTH)

    # Sketch6 → Boss-Extrude6 (add)
    with BuildSketch(Plane.XY.offset(24)):
        with Locations(Location((0, 0, 0), (0, 0, 192.86084428))):
            Circle(SKETCH6_R)
        Circle(SKETCH6_R_2, mode=Mode.SUBTRACT)
    extrude(amount=BOSS_EXTRUDE6_DEPTH)


solid = part.part
